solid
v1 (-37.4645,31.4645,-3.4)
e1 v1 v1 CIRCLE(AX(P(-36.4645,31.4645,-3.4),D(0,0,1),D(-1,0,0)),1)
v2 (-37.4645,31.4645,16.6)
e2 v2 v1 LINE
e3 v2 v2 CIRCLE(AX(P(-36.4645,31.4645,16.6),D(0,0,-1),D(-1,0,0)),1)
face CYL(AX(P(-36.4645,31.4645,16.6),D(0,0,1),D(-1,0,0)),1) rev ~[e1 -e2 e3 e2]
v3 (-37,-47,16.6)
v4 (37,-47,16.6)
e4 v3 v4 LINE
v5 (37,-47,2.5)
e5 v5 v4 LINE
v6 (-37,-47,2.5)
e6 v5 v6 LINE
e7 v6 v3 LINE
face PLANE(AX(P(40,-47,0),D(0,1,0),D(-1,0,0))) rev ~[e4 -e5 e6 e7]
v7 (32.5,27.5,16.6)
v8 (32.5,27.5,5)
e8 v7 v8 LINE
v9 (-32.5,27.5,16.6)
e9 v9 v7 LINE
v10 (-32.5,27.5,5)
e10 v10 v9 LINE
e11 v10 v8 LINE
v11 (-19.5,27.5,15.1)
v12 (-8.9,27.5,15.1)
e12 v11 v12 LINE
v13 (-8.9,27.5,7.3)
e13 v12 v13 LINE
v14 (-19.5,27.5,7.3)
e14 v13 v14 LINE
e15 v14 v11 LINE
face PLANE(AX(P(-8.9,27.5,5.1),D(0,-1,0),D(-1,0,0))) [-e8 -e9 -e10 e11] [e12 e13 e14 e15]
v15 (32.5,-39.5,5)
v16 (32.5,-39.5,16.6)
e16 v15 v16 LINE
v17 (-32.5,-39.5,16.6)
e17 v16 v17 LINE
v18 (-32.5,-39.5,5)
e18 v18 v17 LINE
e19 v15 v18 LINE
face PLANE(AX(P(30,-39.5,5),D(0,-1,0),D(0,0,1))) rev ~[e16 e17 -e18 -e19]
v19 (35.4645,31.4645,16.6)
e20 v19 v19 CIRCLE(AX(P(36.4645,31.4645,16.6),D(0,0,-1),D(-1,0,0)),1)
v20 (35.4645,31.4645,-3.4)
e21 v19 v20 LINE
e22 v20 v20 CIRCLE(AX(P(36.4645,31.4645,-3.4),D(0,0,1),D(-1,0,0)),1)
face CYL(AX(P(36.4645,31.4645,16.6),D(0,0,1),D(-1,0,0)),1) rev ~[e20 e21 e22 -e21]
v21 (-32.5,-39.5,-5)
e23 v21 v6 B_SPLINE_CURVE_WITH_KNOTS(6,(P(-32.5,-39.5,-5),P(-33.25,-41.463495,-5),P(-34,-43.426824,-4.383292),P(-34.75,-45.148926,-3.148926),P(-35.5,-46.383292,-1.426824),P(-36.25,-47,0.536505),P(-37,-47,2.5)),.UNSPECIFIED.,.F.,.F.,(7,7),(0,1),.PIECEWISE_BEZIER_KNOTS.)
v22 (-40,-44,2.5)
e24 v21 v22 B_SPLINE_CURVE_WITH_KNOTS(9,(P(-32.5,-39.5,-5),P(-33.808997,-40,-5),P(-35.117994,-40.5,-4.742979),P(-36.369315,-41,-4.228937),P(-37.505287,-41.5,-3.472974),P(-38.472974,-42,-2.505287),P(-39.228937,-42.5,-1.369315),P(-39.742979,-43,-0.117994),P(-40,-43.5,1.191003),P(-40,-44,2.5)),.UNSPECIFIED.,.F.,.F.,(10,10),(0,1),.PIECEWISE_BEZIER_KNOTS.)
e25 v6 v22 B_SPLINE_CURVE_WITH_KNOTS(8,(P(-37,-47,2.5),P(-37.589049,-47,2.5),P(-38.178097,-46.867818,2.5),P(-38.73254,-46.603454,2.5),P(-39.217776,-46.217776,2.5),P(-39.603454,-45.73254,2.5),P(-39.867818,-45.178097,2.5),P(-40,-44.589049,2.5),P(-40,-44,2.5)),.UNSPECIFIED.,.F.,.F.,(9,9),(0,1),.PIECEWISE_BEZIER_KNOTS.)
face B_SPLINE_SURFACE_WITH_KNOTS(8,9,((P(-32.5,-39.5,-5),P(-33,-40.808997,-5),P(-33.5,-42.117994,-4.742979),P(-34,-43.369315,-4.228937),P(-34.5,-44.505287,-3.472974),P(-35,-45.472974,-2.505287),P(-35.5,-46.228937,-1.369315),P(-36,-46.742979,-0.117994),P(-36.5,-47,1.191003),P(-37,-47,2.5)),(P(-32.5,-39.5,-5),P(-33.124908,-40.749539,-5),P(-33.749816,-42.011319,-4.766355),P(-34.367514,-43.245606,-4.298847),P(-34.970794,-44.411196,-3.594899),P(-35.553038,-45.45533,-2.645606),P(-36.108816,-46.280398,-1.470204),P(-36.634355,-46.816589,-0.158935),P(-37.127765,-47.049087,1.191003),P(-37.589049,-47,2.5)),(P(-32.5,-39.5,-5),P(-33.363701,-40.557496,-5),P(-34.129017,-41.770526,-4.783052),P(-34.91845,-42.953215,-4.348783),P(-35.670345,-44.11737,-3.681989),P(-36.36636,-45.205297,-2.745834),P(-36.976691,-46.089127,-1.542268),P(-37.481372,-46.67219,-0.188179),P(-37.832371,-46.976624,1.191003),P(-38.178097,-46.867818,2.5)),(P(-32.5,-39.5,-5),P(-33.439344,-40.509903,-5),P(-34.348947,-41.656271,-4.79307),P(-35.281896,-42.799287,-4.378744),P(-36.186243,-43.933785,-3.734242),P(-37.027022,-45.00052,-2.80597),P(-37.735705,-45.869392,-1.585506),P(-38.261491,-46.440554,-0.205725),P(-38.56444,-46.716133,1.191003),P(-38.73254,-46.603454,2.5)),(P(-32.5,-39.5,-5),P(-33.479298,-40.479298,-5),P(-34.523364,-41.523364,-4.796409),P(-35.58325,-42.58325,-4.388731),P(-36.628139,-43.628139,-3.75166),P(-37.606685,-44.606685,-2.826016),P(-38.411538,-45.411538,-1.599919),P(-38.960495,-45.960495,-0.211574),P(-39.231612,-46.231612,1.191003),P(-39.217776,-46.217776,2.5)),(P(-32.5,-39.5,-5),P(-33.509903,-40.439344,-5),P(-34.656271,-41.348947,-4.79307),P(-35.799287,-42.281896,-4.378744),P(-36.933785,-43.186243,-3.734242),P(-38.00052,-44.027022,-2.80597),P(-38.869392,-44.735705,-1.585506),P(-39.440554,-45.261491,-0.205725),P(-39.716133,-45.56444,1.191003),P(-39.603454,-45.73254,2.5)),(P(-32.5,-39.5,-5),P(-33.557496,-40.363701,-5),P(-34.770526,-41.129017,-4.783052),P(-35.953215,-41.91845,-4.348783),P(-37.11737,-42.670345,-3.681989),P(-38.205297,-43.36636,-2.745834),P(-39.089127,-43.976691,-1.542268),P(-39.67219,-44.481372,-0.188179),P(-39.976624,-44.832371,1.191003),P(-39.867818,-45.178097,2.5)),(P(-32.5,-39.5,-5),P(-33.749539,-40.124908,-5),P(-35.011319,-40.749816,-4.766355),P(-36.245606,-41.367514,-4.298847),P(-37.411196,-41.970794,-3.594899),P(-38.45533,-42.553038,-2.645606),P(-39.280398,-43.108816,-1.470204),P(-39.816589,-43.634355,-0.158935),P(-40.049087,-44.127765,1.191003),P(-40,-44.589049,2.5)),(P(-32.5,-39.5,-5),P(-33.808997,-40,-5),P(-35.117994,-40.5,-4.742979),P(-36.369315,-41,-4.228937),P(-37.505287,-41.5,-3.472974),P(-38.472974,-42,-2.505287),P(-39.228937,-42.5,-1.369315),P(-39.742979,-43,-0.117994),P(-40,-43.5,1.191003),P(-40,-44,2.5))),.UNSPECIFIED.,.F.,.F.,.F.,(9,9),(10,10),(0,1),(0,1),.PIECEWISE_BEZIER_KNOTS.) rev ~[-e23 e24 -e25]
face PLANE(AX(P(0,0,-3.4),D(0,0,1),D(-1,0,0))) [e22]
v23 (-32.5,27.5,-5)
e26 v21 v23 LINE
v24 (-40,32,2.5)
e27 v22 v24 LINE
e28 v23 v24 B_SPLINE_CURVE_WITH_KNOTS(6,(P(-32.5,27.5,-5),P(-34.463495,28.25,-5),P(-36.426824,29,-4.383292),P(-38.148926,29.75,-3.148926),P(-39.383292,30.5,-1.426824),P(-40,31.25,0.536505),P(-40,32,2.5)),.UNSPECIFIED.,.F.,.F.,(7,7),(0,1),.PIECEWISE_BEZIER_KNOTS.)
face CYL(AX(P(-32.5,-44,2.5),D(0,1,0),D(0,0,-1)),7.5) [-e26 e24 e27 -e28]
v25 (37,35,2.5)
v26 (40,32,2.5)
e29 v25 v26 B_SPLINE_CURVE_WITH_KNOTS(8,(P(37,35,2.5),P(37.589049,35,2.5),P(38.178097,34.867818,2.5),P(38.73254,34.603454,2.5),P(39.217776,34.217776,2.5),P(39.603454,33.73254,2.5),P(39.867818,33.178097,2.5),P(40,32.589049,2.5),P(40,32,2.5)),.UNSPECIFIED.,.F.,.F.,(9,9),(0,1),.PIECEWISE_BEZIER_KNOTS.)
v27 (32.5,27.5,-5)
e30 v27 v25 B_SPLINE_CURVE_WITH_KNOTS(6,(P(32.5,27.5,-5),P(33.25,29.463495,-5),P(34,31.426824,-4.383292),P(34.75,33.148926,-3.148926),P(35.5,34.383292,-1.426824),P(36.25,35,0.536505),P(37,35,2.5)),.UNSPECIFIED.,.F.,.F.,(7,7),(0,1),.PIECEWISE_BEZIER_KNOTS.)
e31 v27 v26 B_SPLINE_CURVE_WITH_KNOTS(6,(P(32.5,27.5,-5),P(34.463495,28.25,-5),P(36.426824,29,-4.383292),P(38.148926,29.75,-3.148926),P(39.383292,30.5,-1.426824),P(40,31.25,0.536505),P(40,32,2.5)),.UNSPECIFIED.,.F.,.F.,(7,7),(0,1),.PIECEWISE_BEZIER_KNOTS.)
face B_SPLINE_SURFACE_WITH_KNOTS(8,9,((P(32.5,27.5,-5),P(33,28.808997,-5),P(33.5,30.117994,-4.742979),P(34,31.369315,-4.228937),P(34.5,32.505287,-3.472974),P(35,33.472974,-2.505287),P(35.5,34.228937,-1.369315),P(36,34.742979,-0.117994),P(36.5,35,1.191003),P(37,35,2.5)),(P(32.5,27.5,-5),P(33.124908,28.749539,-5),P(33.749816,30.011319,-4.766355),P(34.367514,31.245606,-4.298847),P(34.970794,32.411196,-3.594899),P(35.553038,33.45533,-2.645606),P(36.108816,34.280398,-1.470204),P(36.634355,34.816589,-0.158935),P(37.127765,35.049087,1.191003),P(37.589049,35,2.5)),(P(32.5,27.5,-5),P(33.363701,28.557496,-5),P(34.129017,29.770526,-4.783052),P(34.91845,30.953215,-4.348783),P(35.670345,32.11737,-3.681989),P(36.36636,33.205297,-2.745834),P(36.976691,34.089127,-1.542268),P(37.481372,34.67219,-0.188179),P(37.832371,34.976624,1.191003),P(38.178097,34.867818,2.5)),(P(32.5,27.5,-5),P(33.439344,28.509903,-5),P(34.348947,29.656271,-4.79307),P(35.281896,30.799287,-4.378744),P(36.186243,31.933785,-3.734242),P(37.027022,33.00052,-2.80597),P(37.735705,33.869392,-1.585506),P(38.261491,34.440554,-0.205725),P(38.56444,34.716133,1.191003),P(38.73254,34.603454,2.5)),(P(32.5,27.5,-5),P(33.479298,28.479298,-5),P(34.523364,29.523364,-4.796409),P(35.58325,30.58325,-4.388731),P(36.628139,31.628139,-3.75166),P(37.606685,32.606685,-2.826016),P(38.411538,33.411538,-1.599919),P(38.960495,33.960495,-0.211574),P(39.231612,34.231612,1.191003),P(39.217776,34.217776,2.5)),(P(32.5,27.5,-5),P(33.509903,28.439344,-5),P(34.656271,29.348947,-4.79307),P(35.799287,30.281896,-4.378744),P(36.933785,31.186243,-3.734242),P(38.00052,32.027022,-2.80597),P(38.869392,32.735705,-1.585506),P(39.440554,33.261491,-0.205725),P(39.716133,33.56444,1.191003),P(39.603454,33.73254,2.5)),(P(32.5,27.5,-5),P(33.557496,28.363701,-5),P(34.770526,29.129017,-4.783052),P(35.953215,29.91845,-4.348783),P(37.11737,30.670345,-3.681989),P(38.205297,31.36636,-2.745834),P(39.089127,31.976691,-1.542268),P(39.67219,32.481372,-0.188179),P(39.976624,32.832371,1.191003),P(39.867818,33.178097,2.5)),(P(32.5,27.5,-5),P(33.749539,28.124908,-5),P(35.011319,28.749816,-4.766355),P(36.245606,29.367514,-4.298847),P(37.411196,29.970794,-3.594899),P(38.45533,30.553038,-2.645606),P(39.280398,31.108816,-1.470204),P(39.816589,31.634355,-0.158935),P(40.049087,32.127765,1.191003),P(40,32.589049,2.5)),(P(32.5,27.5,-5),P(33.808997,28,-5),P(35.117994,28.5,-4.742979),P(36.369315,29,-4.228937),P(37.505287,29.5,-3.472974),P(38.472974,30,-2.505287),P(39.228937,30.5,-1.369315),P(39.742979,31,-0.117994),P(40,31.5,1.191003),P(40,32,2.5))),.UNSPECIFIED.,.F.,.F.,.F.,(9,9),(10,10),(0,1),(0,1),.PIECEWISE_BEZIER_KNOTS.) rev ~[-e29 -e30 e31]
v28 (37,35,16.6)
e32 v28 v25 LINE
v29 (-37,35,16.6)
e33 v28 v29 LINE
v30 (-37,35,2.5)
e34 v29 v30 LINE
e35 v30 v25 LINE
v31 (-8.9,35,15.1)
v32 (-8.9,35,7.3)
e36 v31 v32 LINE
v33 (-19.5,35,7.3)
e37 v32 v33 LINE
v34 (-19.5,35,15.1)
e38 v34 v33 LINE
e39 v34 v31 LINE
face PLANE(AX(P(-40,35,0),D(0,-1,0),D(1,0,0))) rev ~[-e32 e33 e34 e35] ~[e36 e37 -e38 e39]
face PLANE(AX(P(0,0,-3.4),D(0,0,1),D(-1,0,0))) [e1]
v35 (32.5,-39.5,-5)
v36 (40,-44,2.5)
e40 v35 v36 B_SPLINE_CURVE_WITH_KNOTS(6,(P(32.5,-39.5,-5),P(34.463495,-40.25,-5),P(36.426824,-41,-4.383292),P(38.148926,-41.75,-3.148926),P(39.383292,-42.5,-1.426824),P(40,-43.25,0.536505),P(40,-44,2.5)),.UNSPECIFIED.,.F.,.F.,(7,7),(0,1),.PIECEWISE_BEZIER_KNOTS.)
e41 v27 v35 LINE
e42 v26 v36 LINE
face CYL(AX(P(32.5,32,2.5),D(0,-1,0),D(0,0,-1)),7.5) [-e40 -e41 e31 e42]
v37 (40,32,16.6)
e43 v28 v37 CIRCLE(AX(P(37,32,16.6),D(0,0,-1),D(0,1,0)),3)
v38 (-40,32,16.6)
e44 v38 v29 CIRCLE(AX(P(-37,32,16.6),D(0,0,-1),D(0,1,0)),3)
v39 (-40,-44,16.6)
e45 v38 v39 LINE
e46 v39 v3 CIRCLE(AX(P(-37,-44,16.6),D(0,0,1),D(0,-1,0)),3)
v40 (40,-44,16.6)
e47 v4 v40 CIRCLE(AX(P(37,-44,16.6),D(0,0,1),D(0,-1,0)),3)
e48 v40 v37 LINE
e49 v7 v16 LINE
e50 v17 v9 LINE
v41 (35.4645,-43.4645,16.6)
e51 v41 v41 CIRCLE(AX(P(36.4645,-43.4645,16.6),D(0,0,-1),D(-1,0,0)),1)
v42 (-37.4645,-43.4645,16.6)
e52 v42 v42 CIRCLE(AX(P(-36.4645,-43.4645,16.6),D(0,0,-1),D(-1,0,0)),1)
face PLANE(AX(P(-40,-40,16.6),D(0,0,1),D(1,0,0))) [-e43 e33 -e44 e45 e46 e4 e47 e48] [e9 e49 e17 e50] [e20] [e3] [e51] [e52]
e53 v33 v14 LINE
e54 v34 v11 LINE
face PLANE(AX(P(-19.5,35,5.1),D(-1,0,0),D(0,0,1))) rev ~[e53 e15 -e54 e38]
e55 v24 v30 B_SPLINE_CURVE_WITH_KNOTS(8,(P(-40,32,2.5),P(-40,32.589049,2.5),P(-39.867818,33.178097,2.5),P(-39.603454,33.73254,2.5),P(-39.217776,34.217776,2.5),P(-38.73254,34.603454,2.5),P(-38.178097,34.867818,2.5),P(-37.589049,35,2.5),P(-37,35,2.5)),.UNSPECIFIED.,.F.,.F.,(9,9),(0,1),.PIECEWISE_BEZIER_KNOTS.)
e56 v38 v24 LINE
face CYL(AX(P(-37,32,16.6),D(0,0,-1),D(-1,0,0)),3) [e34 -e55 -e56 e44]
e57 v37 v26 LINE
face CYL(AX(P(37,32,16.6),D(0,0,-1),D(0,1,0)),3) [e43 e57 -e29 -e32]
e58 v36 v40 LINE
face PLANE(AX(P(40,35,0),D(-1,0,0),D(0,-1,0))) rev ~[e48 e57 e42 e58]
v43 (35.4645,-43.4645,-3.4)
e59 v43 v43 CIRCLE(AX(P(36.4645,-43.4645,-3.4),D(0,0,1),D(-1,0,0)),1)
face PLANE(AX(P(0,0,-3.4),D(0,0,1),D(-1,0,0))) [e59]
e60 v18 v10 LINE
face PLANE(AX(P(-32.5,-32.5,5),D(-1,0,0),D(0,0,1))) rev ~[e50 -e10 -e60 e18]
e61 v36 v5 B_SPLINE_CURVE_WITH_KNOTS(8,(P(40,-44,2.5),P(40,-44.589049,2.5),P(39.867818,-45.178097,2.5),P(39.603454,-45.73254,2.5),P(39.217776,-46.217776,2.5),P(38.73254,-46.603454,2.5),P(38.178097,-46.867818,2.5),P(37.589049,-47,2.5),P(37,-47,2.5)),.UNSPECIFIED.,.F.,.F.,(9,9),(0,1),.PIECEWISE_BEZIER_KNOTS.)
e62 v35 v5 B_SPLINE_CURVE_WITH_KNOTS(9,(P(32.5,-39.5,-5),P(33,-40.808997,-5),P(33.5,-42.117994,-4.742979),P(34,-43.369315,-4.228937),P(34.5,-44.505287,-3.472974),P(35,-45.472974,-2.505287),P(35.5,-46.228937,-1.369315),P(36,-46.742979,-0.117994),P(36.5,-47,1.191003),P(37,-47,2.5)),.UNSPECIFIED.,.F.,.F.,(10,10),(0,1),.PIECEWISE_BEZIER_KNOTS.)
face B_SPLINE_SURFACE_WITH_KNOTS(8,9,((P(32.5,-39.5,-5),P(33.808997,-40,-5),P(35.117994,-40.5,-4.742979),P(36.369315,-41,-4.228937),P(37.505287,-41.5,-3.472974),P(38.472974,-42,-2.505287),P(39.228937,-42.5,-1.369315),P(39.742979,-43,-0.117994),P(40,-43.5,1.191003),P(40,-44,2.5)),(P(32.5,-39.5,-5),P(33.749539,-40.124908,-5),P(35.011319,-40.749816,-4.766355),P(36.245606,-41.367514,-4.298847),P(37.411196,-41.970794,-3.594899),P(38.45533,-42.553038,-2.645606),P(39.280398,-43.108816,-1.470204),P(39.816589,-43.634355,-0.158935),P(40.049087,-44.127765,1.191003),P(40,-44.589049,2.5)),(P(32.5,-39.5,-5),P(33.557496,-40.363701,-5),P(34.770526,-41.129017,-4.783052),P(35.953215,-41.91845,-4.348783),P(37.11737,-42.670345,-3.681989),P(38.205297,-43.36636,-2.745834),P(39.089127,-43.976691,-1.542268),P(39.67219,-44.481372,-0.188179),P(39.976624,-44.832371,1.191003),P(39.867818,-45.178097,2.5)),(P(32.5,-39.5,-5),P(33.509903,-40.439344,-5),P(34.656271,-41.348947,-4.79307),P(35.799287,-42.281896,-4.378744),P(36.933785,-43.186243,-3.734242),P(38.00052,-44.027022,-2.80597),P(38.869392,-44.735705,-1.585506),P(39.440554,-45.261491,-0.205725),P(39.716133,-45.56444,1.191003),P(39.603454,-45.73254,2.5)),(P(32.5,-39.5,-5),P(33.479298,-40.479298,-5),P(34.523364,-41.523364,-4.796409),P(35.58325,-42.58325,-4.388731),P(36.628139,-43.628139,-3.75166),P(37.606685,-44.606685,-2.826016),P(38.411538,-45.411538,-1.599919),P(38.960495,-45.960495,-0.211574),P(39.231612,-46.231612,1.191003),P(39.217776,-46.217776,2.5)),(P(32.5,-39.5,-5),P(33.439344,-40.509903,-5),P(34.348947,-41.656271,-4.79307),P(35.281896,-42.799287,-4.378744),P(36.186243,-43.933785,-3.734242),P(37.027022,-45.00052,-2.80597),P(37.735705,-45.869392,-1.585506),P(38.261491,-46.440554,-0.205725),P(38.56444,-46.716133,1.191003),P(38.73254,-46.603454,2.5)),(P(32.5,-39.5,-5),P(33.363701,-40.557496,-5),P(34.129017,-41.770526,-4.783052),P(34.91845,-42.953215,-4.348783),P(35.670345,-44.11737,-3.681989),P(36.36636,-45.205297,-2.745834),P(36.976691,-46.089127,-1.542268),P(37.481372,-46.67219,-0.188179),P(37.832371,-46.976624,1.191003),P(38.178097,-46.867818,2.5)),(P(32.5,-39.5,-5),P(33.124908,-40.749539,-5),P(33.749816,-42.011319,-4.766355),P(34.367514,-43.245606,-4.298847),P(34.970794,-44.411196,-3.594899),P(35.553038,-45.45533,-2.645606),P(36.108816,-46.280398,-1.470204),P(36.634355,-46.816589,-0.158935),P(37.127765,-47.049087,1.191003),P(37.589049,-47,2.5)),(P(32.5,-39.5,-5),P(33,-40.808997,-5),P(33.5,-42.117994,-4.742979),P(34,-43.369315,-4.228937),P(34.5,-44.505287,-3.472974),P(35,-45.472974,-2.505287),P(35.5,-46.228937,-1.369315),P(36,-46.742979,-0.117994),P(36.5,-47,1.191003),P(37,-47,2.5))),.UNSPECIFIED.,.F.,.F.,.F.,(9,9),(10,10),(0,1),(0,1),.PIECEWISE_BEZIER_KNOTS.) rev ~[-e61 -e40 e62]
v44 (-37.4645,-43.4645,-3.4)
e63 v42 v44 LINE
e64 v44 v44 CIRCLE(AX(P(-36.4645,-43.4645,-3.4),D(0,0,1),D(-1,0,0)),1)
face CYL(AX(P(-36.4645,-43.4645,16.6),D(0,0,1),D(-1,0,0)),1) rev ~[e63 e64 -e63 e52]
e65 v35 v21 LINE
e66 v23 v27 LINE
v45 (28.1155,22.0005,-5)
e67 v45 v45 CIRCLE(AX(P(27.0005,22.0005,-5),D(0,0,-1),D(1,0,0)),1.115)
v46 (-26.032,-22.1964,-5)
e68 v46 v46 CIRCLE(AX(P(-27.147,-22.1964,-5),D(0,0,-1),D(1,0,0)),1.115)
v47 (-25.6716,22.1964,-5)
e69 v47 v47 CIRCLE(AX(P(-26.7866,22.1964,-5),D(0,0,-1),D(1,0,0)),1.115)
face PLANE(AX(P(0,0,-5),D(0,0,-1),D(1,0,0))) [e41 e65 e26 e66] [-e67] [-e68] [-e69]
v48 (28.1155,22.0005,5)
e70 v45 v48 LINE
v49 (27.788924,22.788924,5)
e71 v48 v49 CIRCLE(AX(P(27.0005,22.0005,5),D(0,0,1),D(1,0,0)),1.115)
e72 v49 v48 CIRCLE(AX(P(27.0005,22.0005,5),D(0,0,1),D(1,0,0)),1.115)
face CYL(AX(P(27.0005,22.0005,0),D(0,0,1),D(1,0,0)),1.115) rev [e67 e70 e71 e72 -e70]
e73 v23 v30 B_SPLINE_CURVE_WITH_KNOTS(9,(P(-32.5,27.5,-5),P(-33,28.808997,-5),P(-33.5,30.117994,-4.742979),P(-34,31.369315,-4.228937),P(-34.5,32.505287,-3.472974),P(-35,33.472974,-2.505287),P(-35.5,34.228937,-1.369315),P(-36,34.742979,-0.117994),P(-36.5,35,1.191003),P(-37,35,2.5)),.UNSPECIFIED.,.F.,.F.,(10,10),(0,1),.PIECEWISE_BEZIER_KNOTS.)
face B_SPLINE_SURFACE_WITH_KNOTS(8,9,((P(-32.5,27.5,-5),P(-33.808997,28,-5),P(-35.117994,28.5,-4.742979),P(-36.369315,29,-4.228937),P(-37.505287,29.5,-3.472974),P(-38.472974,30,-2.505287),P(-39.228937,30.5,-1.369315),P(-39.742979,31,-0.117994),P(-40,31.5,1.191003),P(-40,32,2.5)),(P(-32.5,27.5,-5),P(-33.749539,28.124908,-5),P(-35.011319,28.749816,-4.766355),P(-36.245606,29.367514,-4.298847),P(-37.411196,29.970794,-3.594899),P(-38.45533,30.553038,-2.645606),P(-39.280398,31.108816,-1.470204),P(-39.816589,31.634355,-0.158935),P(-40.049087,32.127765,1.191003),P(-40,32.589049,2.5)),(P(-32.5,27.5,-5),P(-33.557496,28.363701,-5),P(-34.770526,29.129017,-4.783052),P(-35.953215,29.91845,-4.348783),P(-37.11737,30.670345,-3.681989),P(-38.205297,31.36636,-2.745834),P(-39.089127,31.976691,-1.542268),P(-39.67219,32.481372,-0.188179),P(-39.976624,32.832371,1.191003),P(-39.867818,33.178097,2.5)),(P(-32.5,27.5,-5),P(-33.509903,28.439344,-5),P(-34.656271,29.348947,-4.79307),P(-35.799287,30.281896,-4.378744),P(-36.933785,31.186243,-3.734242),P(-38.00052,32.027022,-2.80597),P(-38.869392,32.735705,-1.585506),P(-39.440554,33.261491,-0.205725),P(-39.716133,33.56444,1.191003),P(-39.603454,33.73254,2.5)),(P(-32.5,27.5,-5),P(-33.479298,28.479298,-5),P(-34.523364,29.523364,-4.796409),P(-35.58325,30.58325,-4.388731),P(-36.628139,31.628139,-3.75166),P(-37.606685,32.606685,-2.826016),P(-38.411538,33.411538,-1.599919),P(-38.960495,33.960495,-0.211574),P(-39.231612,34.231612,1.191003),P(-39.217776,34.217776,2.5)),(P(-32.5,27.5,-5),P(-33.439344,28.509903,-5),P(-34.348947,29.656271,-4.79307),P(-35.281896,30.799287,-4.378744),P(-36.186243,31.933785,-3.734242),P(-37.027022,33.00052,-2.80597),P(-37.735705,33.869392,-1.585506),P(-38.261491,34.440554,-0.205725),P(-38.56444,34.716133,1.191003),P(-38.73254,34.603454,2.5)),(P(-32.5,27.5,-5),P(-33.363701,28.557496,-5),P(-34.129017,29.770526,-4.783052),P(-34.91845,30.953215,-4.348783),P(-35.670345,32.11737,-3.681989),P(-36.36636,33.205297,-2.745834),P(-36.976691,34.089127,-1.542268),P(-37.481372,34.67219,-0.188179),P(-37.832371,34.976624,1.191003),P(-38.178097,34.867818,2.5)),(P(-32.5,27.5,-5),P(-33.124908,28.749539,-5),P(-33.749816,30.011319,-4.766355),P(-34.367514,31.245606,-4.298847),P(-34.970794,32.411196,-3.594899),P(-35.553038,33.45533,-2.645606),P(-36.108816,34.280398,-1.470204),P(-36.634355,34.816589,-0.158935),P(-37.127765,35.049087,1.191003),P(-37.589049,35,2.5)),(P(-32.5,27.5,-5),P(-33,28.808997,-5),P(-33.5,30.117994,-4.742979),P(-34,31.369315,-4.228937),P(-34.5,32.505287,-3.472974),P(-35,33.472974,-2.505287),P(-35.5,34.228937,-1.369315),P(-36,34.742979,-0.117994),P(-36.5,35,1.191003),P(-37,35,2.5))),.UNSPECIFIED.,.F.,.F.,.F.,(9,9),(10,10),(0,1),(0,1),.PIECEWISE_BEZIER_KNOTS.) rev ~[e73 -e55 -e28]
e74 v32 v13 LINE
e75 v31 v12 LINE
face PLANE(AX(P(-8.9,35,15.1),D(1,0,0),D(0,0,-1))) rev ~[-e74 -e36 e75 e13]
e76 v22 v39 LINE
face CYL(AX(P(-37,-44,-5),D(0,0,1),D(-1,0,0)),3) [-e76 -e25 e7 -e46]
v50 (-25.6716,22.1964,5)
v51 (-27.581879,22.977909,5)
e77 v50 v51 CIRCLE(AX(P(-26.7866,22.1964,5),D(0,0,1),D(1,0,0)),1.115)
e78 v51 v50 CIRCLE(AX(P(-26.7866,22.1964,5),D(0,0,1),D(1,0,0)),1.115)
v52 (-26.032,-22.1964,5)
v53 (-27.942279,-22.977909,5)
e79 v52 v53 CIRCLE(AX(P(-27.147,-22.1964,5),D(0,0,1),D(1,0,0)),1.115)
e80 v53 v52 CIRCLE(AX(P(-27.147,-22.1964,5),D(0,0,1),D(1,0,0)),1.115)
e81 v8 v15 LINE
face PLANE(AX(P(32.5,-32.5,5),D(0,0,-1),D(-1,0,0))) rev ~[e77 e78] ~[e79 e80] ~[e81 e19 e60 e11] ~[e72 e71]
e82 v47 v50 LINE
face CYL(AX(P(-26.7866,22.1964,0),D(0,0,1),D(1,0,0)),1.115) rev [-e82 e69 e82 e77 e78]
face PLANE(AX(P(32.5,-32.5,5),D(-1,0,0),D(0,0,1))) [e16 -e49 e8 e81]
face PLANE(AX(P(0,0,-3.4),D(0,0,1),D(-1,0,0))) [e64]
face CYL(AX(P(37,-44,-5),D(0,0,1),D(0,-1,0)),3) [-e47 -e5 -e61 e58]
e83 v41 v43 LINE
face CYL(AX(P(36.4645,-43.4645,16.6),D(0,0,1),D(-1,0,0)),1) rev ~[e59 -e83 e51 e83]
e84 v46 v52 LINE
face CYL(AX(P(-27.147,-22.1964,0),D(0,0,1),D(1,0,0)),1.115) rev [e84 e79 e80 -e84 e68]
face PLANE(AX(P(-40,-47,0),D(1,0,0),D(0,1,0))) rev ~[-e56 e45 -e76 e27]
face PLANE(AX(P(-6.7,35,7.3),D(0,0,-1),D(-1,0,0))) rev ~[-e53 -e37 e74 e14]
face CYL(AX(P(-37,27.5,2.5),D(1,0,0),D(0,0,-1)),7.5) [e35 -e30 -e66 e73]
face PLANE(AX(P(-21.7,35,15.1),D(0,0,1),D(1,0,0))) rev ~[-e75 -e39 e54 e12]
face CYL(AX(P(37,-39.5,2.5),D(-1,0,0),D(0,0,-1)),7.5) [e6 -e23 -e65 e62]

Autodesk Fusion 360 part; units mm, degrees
sketch "Sketch1" plane through (0, 0, 0) normal (0, 0, 1) x (1, 0, 0)
  line L0 (30, -25) -> (-30, -25)
  line L1 (-30, -25) -> (-30, 25)
  line L2 (-30, 25) -> (30, 25)
  line L3 (30, 25) -> (30, -25)
  line L4 (30, -25) -> (-30, 25) construction
  line L5 (-30, -25) -> (30, 25) construction
  line L6 (-30, -25) -> (-27.147, -22.1964)
  line L7 (-30, -25) -> (-34, -25) construction
  circle A0 centre (-27.147, -22.1964) radius 1.115
  circle A1 centre (-27.147, -22.1964) radius 2.5
  line L8 (-29.6396, 25) -> (-26.7866, 22.1964)
  line L9 (-29.6396, 25) -> (-25.6396, 25) construction
  circle A2 centre (-26.7866, 22.1964) radius 1.115
  circle A3 centre (-26.7866, 22.1964) radius 2.5
  line L10 (30, 25) -> (27.0005, 22.0005)
  line L11 (30, 25) -> (25.758, 25) construction
  circle A4 centre (27.0005, 22.0005) radius 1.115
  circle A5 centre (27.0005, 22.0005) radius 2.5
  line L12 (30, -25) -> (30, -35)
  line L13 (30, -35) -> (40, -35)
  line L14 (40, -35) -> (-40, -35)
  line L15 (-40, -35) -> (-40, 35)
  line L16 (-40, 35) -> (40, 35)
  line L17 (40, 35) -> (40, -35)
  dimension "d1" = 60
  dimension "d2" = 50
  dimension "d3" = 135.5
  dimension "d4" = 4
  dimension "d5" = 2.23
  dimension "d6" = 5
  dimension "d7" = 44.5
  dimension "d8" = 4
  dimension "d9" = 2.23
  dimension "d10" = 5
  dimension "d11" = 45
  dimension "d12" = 4.242
  dimension "d13" = 2.23
  dimension "d14" = 5
  dimension "d17" = 10
  dimension "d18" = 10
  dimension "d19" = 80
  dimension "d20" = 70
extrude "Extrude1" add sketch "Sketch1" along normal blind 10 contours A5 | A3 | A1 | L0 L1 L2 L3
extrude "Extrude2" cut 1 faces at (9.9936, -8.452, 10) along direction (0, 0, -1) blind 5
extrude "Extrude3" add sketch "Sketch1" along normal blind 24 contours L13 L14 L15 L16 L17
extrude "Extrude4" add 1 faces at (-10, 31.6667, 24) along direction (0, 0, 1) blind 2.6
extrude "Extrude5" cut 1 faces at (30, 8.3333, 12.2) along direction (1, 0, 0) blind 2.5
extrude "Extrude6" cut 1 faces at (10.8333, 25, 19.4) along direction (0, 1, 0) blind 2.5
extrude "Extrude7" cut 1 faces at (11.6667, -25, 12.2) along direction (0, -1, 0) blind 2.5
extrude "Extrude8" cut 1 faces at (-30, -8.3333, 19.4) along direction (-1, 0, 0) blind 2.5
sketch "Sketch2" plane through (0, 0, 26.6) normal (0, 0, 1) x (-1, 0, 0)
  line L0 (-32.5, 27.5) -> (32.5, 27.5)
  line L1 (32.5, 27.5) -> (32.5, -27.5)
  line L2 (32.5, -27.5) -> (-32.5, -27.5)
  line L3 (-32.5, -27.5) -> (-32.5, 27.5)
  line L4 (-40, -35) -> (40, -35)
  line L5 (40, -35) -> (40, 35)
  line L6 (40, 35) -> (-40, 35)
  line L7 (-40, 35) -> (-40, -35)
sketch "Sketch3" plane through (0, 35, 0) normal (0, 1, 0) x (-1, 0, 0)
  line L0 (-40, 0) -> (40, 0)
  line L1 (40, 0) -> (40, 26.6)
  line L2 (40, 26.6) -> (-40, 26.6)
  line L3 (-40, 26.6) -> (-40, 0)
  line L4 (40, 10.1) -> (14.2, 10.1)
  line L5 (14.2, 26.6) -> (14.2, 10.1)
  line L6 (21.7, 15.1) -> (6.7, 15.1)
  line L7 (6.7, 15.1) -> (6.7, 5.1)
  line L8 (6.7, 5.1) -> (21.7, 5.1)
  line L9 (21.7, 5.1) -> (21.7, 15.1)
  line L10 (21.7, 15.1) -> (6.7, 5.1) construction
  line L11 (6.7, 15.1) -> (21.7, 5.1) construction
  point P0 (14.2, 10.1)
  dimension "d36" = 25.8
  dimension "d37" = 16.5
  dimension "d38" = 15
  dimension "d39" = 10
extrude "Extrude9" cut sketch "Sketch3" against normal blind 22 contours L4 L5 L6 L7 L8 L9 | L4 L5 L6 L9
extrude "Extrude10" add 1 faces at (-6.7, 32.5, 11.7667) along direction (-1, 0, 0) blind 2.2
extrude "Extrude11" add 1 faces at (-21.7, 32.5, 8.4333) along direction (1, 0, 0) blind 2.2
extrude "Extrude12" add 1 faces at (-12.4333, 32.5, 5.1) along direction (0, 0, 1) blind 2.2
extrude "Extrude13" cut sketch "Sketch2" against normal blind 5
extrude "Extrude14" cut 1 faces at (-10.8333, -27.5, 10.5333) along direction (0, -1, 0) blind 5
extrude "Extrude15" add 1 faces at (13.3333, -35, 7.2) along direction (0, -1, 0) blind 5
extrude "Extrude16" cut 1 faces at (-10.8333, -32.5, 10.5333) along direction (0, -1, 0) blind 7
extrude "Extrude17" add 1 faces at (13.3333, -40, 7.2) along direction (0, -1, 0) blind 7
extrude "Extrude18" cut 1 faces at (-37.5, 5.1667, 21.6) along direction (0, 0, -1) blind 5
sketch "Sketch4" plane through (0, 0, 0) normal (0, 0, -1) x (1, 0, 0)
  line L0 (-40, -35) -> (40, -35)
  line L1 (40, -35) -> (40, 47)
  line L2 (40, 47) -> (-40, 47)
  line L3 (-40, 47) -> (-40, -35)
  circle A0 centre (27.0005, -22.0005) radius 1.115
  circle A1 centre (-27.147, 22.1964) radius 1.115
  circle A2 centre (-26.7866, -22.1964) radius 1.115
sketch "Sketch5" plane through (0, 0, 16.6) normal (0, 0, 1) x (-1, 0, 0)
  line L0 (32.5, 39.5) -> (32.5, -27.5)
  line L1 (32.5, -27.5) -> (-32.5, -27.5)
  line L2 (-32.5, -27.5) -> (-32.5, 39.5)
  line L3 (-32.5, 39.5) -> (32.5, 39.5)
  line L4 (-40, 47) -> (-40, -35)
  line L5 (-40, -35) -> (40, -35)
  line L6 (40, -35) -> (40, 47)
  line L7 (40, 47) -> (-40, 47)
  line L8 (40, 47) -> (36.4645, 43.4645)
  line L9 (40, 47) -> (35, 47) construction
  circle A0 centre (36.4645, 43.4645) radius 1
  line L10 (-40, 47) -> (-36.4645, 43.4645)
  line L11 (-40, 47) -> (-35, 47) construction
  circle A1 centre (-36.4645, 43.4645) radius 1
  line L12 (-40, -35) -> (-36.4645, -31.4645)
  line L13 (-40, -35) -> (-35, -35) construction
  circle A2 centre (-36.4645, -31.4645) radius 1
  line L14 (40, -35) -> (36.4645, -31.4645)
  line L15 (40, -35) -> (35, -35) construction
  circle A3 centre (36.4645, -31.4645) radius 1
  dimension "d60" = 45
  dimension "d61" = 5
  dimension "d62" = 2
  dimension "d63" = 5
  dimension "d64" = 45
  dimension "d65" = 2
  dimension "d66" = 5
  dimension "d67" = 45
  dimension "d68" = 2
  dimension "d69" = 45
  dimension "d70" = 5
  dimension "d71" = 2
extrude "Extrude19" add sketch "Sketch4" along normal blind 5
extrude "Extrude20" cut sketch "Sketch5" against normal blind 20 contours A2 | A3 | A0 | A1
fillet "Fillet1" radius 3 4 edges at (40, -47, 5.8) (-40, -47, 5.8) (-40, 35, 5.8) (40, 35, 5.8)
fillet "Fillet2" radius 7.5 8 edges at (39.1213, 34.1213, -5) (40, -6, -5) (39.1213, -46.1213, -5) (0, -47, -5) (-39.1213, -46.1213, -5) (-40, -6, -5) (-39.1213, 34.1213, -5) (0, 35, -5)
equation "d23 = 17 mm + 5 mm + 2 mm"
equation "d36 = 25 mm + 0.8 mm"
equation "d37 = 15 mm + 1.5 mm"
